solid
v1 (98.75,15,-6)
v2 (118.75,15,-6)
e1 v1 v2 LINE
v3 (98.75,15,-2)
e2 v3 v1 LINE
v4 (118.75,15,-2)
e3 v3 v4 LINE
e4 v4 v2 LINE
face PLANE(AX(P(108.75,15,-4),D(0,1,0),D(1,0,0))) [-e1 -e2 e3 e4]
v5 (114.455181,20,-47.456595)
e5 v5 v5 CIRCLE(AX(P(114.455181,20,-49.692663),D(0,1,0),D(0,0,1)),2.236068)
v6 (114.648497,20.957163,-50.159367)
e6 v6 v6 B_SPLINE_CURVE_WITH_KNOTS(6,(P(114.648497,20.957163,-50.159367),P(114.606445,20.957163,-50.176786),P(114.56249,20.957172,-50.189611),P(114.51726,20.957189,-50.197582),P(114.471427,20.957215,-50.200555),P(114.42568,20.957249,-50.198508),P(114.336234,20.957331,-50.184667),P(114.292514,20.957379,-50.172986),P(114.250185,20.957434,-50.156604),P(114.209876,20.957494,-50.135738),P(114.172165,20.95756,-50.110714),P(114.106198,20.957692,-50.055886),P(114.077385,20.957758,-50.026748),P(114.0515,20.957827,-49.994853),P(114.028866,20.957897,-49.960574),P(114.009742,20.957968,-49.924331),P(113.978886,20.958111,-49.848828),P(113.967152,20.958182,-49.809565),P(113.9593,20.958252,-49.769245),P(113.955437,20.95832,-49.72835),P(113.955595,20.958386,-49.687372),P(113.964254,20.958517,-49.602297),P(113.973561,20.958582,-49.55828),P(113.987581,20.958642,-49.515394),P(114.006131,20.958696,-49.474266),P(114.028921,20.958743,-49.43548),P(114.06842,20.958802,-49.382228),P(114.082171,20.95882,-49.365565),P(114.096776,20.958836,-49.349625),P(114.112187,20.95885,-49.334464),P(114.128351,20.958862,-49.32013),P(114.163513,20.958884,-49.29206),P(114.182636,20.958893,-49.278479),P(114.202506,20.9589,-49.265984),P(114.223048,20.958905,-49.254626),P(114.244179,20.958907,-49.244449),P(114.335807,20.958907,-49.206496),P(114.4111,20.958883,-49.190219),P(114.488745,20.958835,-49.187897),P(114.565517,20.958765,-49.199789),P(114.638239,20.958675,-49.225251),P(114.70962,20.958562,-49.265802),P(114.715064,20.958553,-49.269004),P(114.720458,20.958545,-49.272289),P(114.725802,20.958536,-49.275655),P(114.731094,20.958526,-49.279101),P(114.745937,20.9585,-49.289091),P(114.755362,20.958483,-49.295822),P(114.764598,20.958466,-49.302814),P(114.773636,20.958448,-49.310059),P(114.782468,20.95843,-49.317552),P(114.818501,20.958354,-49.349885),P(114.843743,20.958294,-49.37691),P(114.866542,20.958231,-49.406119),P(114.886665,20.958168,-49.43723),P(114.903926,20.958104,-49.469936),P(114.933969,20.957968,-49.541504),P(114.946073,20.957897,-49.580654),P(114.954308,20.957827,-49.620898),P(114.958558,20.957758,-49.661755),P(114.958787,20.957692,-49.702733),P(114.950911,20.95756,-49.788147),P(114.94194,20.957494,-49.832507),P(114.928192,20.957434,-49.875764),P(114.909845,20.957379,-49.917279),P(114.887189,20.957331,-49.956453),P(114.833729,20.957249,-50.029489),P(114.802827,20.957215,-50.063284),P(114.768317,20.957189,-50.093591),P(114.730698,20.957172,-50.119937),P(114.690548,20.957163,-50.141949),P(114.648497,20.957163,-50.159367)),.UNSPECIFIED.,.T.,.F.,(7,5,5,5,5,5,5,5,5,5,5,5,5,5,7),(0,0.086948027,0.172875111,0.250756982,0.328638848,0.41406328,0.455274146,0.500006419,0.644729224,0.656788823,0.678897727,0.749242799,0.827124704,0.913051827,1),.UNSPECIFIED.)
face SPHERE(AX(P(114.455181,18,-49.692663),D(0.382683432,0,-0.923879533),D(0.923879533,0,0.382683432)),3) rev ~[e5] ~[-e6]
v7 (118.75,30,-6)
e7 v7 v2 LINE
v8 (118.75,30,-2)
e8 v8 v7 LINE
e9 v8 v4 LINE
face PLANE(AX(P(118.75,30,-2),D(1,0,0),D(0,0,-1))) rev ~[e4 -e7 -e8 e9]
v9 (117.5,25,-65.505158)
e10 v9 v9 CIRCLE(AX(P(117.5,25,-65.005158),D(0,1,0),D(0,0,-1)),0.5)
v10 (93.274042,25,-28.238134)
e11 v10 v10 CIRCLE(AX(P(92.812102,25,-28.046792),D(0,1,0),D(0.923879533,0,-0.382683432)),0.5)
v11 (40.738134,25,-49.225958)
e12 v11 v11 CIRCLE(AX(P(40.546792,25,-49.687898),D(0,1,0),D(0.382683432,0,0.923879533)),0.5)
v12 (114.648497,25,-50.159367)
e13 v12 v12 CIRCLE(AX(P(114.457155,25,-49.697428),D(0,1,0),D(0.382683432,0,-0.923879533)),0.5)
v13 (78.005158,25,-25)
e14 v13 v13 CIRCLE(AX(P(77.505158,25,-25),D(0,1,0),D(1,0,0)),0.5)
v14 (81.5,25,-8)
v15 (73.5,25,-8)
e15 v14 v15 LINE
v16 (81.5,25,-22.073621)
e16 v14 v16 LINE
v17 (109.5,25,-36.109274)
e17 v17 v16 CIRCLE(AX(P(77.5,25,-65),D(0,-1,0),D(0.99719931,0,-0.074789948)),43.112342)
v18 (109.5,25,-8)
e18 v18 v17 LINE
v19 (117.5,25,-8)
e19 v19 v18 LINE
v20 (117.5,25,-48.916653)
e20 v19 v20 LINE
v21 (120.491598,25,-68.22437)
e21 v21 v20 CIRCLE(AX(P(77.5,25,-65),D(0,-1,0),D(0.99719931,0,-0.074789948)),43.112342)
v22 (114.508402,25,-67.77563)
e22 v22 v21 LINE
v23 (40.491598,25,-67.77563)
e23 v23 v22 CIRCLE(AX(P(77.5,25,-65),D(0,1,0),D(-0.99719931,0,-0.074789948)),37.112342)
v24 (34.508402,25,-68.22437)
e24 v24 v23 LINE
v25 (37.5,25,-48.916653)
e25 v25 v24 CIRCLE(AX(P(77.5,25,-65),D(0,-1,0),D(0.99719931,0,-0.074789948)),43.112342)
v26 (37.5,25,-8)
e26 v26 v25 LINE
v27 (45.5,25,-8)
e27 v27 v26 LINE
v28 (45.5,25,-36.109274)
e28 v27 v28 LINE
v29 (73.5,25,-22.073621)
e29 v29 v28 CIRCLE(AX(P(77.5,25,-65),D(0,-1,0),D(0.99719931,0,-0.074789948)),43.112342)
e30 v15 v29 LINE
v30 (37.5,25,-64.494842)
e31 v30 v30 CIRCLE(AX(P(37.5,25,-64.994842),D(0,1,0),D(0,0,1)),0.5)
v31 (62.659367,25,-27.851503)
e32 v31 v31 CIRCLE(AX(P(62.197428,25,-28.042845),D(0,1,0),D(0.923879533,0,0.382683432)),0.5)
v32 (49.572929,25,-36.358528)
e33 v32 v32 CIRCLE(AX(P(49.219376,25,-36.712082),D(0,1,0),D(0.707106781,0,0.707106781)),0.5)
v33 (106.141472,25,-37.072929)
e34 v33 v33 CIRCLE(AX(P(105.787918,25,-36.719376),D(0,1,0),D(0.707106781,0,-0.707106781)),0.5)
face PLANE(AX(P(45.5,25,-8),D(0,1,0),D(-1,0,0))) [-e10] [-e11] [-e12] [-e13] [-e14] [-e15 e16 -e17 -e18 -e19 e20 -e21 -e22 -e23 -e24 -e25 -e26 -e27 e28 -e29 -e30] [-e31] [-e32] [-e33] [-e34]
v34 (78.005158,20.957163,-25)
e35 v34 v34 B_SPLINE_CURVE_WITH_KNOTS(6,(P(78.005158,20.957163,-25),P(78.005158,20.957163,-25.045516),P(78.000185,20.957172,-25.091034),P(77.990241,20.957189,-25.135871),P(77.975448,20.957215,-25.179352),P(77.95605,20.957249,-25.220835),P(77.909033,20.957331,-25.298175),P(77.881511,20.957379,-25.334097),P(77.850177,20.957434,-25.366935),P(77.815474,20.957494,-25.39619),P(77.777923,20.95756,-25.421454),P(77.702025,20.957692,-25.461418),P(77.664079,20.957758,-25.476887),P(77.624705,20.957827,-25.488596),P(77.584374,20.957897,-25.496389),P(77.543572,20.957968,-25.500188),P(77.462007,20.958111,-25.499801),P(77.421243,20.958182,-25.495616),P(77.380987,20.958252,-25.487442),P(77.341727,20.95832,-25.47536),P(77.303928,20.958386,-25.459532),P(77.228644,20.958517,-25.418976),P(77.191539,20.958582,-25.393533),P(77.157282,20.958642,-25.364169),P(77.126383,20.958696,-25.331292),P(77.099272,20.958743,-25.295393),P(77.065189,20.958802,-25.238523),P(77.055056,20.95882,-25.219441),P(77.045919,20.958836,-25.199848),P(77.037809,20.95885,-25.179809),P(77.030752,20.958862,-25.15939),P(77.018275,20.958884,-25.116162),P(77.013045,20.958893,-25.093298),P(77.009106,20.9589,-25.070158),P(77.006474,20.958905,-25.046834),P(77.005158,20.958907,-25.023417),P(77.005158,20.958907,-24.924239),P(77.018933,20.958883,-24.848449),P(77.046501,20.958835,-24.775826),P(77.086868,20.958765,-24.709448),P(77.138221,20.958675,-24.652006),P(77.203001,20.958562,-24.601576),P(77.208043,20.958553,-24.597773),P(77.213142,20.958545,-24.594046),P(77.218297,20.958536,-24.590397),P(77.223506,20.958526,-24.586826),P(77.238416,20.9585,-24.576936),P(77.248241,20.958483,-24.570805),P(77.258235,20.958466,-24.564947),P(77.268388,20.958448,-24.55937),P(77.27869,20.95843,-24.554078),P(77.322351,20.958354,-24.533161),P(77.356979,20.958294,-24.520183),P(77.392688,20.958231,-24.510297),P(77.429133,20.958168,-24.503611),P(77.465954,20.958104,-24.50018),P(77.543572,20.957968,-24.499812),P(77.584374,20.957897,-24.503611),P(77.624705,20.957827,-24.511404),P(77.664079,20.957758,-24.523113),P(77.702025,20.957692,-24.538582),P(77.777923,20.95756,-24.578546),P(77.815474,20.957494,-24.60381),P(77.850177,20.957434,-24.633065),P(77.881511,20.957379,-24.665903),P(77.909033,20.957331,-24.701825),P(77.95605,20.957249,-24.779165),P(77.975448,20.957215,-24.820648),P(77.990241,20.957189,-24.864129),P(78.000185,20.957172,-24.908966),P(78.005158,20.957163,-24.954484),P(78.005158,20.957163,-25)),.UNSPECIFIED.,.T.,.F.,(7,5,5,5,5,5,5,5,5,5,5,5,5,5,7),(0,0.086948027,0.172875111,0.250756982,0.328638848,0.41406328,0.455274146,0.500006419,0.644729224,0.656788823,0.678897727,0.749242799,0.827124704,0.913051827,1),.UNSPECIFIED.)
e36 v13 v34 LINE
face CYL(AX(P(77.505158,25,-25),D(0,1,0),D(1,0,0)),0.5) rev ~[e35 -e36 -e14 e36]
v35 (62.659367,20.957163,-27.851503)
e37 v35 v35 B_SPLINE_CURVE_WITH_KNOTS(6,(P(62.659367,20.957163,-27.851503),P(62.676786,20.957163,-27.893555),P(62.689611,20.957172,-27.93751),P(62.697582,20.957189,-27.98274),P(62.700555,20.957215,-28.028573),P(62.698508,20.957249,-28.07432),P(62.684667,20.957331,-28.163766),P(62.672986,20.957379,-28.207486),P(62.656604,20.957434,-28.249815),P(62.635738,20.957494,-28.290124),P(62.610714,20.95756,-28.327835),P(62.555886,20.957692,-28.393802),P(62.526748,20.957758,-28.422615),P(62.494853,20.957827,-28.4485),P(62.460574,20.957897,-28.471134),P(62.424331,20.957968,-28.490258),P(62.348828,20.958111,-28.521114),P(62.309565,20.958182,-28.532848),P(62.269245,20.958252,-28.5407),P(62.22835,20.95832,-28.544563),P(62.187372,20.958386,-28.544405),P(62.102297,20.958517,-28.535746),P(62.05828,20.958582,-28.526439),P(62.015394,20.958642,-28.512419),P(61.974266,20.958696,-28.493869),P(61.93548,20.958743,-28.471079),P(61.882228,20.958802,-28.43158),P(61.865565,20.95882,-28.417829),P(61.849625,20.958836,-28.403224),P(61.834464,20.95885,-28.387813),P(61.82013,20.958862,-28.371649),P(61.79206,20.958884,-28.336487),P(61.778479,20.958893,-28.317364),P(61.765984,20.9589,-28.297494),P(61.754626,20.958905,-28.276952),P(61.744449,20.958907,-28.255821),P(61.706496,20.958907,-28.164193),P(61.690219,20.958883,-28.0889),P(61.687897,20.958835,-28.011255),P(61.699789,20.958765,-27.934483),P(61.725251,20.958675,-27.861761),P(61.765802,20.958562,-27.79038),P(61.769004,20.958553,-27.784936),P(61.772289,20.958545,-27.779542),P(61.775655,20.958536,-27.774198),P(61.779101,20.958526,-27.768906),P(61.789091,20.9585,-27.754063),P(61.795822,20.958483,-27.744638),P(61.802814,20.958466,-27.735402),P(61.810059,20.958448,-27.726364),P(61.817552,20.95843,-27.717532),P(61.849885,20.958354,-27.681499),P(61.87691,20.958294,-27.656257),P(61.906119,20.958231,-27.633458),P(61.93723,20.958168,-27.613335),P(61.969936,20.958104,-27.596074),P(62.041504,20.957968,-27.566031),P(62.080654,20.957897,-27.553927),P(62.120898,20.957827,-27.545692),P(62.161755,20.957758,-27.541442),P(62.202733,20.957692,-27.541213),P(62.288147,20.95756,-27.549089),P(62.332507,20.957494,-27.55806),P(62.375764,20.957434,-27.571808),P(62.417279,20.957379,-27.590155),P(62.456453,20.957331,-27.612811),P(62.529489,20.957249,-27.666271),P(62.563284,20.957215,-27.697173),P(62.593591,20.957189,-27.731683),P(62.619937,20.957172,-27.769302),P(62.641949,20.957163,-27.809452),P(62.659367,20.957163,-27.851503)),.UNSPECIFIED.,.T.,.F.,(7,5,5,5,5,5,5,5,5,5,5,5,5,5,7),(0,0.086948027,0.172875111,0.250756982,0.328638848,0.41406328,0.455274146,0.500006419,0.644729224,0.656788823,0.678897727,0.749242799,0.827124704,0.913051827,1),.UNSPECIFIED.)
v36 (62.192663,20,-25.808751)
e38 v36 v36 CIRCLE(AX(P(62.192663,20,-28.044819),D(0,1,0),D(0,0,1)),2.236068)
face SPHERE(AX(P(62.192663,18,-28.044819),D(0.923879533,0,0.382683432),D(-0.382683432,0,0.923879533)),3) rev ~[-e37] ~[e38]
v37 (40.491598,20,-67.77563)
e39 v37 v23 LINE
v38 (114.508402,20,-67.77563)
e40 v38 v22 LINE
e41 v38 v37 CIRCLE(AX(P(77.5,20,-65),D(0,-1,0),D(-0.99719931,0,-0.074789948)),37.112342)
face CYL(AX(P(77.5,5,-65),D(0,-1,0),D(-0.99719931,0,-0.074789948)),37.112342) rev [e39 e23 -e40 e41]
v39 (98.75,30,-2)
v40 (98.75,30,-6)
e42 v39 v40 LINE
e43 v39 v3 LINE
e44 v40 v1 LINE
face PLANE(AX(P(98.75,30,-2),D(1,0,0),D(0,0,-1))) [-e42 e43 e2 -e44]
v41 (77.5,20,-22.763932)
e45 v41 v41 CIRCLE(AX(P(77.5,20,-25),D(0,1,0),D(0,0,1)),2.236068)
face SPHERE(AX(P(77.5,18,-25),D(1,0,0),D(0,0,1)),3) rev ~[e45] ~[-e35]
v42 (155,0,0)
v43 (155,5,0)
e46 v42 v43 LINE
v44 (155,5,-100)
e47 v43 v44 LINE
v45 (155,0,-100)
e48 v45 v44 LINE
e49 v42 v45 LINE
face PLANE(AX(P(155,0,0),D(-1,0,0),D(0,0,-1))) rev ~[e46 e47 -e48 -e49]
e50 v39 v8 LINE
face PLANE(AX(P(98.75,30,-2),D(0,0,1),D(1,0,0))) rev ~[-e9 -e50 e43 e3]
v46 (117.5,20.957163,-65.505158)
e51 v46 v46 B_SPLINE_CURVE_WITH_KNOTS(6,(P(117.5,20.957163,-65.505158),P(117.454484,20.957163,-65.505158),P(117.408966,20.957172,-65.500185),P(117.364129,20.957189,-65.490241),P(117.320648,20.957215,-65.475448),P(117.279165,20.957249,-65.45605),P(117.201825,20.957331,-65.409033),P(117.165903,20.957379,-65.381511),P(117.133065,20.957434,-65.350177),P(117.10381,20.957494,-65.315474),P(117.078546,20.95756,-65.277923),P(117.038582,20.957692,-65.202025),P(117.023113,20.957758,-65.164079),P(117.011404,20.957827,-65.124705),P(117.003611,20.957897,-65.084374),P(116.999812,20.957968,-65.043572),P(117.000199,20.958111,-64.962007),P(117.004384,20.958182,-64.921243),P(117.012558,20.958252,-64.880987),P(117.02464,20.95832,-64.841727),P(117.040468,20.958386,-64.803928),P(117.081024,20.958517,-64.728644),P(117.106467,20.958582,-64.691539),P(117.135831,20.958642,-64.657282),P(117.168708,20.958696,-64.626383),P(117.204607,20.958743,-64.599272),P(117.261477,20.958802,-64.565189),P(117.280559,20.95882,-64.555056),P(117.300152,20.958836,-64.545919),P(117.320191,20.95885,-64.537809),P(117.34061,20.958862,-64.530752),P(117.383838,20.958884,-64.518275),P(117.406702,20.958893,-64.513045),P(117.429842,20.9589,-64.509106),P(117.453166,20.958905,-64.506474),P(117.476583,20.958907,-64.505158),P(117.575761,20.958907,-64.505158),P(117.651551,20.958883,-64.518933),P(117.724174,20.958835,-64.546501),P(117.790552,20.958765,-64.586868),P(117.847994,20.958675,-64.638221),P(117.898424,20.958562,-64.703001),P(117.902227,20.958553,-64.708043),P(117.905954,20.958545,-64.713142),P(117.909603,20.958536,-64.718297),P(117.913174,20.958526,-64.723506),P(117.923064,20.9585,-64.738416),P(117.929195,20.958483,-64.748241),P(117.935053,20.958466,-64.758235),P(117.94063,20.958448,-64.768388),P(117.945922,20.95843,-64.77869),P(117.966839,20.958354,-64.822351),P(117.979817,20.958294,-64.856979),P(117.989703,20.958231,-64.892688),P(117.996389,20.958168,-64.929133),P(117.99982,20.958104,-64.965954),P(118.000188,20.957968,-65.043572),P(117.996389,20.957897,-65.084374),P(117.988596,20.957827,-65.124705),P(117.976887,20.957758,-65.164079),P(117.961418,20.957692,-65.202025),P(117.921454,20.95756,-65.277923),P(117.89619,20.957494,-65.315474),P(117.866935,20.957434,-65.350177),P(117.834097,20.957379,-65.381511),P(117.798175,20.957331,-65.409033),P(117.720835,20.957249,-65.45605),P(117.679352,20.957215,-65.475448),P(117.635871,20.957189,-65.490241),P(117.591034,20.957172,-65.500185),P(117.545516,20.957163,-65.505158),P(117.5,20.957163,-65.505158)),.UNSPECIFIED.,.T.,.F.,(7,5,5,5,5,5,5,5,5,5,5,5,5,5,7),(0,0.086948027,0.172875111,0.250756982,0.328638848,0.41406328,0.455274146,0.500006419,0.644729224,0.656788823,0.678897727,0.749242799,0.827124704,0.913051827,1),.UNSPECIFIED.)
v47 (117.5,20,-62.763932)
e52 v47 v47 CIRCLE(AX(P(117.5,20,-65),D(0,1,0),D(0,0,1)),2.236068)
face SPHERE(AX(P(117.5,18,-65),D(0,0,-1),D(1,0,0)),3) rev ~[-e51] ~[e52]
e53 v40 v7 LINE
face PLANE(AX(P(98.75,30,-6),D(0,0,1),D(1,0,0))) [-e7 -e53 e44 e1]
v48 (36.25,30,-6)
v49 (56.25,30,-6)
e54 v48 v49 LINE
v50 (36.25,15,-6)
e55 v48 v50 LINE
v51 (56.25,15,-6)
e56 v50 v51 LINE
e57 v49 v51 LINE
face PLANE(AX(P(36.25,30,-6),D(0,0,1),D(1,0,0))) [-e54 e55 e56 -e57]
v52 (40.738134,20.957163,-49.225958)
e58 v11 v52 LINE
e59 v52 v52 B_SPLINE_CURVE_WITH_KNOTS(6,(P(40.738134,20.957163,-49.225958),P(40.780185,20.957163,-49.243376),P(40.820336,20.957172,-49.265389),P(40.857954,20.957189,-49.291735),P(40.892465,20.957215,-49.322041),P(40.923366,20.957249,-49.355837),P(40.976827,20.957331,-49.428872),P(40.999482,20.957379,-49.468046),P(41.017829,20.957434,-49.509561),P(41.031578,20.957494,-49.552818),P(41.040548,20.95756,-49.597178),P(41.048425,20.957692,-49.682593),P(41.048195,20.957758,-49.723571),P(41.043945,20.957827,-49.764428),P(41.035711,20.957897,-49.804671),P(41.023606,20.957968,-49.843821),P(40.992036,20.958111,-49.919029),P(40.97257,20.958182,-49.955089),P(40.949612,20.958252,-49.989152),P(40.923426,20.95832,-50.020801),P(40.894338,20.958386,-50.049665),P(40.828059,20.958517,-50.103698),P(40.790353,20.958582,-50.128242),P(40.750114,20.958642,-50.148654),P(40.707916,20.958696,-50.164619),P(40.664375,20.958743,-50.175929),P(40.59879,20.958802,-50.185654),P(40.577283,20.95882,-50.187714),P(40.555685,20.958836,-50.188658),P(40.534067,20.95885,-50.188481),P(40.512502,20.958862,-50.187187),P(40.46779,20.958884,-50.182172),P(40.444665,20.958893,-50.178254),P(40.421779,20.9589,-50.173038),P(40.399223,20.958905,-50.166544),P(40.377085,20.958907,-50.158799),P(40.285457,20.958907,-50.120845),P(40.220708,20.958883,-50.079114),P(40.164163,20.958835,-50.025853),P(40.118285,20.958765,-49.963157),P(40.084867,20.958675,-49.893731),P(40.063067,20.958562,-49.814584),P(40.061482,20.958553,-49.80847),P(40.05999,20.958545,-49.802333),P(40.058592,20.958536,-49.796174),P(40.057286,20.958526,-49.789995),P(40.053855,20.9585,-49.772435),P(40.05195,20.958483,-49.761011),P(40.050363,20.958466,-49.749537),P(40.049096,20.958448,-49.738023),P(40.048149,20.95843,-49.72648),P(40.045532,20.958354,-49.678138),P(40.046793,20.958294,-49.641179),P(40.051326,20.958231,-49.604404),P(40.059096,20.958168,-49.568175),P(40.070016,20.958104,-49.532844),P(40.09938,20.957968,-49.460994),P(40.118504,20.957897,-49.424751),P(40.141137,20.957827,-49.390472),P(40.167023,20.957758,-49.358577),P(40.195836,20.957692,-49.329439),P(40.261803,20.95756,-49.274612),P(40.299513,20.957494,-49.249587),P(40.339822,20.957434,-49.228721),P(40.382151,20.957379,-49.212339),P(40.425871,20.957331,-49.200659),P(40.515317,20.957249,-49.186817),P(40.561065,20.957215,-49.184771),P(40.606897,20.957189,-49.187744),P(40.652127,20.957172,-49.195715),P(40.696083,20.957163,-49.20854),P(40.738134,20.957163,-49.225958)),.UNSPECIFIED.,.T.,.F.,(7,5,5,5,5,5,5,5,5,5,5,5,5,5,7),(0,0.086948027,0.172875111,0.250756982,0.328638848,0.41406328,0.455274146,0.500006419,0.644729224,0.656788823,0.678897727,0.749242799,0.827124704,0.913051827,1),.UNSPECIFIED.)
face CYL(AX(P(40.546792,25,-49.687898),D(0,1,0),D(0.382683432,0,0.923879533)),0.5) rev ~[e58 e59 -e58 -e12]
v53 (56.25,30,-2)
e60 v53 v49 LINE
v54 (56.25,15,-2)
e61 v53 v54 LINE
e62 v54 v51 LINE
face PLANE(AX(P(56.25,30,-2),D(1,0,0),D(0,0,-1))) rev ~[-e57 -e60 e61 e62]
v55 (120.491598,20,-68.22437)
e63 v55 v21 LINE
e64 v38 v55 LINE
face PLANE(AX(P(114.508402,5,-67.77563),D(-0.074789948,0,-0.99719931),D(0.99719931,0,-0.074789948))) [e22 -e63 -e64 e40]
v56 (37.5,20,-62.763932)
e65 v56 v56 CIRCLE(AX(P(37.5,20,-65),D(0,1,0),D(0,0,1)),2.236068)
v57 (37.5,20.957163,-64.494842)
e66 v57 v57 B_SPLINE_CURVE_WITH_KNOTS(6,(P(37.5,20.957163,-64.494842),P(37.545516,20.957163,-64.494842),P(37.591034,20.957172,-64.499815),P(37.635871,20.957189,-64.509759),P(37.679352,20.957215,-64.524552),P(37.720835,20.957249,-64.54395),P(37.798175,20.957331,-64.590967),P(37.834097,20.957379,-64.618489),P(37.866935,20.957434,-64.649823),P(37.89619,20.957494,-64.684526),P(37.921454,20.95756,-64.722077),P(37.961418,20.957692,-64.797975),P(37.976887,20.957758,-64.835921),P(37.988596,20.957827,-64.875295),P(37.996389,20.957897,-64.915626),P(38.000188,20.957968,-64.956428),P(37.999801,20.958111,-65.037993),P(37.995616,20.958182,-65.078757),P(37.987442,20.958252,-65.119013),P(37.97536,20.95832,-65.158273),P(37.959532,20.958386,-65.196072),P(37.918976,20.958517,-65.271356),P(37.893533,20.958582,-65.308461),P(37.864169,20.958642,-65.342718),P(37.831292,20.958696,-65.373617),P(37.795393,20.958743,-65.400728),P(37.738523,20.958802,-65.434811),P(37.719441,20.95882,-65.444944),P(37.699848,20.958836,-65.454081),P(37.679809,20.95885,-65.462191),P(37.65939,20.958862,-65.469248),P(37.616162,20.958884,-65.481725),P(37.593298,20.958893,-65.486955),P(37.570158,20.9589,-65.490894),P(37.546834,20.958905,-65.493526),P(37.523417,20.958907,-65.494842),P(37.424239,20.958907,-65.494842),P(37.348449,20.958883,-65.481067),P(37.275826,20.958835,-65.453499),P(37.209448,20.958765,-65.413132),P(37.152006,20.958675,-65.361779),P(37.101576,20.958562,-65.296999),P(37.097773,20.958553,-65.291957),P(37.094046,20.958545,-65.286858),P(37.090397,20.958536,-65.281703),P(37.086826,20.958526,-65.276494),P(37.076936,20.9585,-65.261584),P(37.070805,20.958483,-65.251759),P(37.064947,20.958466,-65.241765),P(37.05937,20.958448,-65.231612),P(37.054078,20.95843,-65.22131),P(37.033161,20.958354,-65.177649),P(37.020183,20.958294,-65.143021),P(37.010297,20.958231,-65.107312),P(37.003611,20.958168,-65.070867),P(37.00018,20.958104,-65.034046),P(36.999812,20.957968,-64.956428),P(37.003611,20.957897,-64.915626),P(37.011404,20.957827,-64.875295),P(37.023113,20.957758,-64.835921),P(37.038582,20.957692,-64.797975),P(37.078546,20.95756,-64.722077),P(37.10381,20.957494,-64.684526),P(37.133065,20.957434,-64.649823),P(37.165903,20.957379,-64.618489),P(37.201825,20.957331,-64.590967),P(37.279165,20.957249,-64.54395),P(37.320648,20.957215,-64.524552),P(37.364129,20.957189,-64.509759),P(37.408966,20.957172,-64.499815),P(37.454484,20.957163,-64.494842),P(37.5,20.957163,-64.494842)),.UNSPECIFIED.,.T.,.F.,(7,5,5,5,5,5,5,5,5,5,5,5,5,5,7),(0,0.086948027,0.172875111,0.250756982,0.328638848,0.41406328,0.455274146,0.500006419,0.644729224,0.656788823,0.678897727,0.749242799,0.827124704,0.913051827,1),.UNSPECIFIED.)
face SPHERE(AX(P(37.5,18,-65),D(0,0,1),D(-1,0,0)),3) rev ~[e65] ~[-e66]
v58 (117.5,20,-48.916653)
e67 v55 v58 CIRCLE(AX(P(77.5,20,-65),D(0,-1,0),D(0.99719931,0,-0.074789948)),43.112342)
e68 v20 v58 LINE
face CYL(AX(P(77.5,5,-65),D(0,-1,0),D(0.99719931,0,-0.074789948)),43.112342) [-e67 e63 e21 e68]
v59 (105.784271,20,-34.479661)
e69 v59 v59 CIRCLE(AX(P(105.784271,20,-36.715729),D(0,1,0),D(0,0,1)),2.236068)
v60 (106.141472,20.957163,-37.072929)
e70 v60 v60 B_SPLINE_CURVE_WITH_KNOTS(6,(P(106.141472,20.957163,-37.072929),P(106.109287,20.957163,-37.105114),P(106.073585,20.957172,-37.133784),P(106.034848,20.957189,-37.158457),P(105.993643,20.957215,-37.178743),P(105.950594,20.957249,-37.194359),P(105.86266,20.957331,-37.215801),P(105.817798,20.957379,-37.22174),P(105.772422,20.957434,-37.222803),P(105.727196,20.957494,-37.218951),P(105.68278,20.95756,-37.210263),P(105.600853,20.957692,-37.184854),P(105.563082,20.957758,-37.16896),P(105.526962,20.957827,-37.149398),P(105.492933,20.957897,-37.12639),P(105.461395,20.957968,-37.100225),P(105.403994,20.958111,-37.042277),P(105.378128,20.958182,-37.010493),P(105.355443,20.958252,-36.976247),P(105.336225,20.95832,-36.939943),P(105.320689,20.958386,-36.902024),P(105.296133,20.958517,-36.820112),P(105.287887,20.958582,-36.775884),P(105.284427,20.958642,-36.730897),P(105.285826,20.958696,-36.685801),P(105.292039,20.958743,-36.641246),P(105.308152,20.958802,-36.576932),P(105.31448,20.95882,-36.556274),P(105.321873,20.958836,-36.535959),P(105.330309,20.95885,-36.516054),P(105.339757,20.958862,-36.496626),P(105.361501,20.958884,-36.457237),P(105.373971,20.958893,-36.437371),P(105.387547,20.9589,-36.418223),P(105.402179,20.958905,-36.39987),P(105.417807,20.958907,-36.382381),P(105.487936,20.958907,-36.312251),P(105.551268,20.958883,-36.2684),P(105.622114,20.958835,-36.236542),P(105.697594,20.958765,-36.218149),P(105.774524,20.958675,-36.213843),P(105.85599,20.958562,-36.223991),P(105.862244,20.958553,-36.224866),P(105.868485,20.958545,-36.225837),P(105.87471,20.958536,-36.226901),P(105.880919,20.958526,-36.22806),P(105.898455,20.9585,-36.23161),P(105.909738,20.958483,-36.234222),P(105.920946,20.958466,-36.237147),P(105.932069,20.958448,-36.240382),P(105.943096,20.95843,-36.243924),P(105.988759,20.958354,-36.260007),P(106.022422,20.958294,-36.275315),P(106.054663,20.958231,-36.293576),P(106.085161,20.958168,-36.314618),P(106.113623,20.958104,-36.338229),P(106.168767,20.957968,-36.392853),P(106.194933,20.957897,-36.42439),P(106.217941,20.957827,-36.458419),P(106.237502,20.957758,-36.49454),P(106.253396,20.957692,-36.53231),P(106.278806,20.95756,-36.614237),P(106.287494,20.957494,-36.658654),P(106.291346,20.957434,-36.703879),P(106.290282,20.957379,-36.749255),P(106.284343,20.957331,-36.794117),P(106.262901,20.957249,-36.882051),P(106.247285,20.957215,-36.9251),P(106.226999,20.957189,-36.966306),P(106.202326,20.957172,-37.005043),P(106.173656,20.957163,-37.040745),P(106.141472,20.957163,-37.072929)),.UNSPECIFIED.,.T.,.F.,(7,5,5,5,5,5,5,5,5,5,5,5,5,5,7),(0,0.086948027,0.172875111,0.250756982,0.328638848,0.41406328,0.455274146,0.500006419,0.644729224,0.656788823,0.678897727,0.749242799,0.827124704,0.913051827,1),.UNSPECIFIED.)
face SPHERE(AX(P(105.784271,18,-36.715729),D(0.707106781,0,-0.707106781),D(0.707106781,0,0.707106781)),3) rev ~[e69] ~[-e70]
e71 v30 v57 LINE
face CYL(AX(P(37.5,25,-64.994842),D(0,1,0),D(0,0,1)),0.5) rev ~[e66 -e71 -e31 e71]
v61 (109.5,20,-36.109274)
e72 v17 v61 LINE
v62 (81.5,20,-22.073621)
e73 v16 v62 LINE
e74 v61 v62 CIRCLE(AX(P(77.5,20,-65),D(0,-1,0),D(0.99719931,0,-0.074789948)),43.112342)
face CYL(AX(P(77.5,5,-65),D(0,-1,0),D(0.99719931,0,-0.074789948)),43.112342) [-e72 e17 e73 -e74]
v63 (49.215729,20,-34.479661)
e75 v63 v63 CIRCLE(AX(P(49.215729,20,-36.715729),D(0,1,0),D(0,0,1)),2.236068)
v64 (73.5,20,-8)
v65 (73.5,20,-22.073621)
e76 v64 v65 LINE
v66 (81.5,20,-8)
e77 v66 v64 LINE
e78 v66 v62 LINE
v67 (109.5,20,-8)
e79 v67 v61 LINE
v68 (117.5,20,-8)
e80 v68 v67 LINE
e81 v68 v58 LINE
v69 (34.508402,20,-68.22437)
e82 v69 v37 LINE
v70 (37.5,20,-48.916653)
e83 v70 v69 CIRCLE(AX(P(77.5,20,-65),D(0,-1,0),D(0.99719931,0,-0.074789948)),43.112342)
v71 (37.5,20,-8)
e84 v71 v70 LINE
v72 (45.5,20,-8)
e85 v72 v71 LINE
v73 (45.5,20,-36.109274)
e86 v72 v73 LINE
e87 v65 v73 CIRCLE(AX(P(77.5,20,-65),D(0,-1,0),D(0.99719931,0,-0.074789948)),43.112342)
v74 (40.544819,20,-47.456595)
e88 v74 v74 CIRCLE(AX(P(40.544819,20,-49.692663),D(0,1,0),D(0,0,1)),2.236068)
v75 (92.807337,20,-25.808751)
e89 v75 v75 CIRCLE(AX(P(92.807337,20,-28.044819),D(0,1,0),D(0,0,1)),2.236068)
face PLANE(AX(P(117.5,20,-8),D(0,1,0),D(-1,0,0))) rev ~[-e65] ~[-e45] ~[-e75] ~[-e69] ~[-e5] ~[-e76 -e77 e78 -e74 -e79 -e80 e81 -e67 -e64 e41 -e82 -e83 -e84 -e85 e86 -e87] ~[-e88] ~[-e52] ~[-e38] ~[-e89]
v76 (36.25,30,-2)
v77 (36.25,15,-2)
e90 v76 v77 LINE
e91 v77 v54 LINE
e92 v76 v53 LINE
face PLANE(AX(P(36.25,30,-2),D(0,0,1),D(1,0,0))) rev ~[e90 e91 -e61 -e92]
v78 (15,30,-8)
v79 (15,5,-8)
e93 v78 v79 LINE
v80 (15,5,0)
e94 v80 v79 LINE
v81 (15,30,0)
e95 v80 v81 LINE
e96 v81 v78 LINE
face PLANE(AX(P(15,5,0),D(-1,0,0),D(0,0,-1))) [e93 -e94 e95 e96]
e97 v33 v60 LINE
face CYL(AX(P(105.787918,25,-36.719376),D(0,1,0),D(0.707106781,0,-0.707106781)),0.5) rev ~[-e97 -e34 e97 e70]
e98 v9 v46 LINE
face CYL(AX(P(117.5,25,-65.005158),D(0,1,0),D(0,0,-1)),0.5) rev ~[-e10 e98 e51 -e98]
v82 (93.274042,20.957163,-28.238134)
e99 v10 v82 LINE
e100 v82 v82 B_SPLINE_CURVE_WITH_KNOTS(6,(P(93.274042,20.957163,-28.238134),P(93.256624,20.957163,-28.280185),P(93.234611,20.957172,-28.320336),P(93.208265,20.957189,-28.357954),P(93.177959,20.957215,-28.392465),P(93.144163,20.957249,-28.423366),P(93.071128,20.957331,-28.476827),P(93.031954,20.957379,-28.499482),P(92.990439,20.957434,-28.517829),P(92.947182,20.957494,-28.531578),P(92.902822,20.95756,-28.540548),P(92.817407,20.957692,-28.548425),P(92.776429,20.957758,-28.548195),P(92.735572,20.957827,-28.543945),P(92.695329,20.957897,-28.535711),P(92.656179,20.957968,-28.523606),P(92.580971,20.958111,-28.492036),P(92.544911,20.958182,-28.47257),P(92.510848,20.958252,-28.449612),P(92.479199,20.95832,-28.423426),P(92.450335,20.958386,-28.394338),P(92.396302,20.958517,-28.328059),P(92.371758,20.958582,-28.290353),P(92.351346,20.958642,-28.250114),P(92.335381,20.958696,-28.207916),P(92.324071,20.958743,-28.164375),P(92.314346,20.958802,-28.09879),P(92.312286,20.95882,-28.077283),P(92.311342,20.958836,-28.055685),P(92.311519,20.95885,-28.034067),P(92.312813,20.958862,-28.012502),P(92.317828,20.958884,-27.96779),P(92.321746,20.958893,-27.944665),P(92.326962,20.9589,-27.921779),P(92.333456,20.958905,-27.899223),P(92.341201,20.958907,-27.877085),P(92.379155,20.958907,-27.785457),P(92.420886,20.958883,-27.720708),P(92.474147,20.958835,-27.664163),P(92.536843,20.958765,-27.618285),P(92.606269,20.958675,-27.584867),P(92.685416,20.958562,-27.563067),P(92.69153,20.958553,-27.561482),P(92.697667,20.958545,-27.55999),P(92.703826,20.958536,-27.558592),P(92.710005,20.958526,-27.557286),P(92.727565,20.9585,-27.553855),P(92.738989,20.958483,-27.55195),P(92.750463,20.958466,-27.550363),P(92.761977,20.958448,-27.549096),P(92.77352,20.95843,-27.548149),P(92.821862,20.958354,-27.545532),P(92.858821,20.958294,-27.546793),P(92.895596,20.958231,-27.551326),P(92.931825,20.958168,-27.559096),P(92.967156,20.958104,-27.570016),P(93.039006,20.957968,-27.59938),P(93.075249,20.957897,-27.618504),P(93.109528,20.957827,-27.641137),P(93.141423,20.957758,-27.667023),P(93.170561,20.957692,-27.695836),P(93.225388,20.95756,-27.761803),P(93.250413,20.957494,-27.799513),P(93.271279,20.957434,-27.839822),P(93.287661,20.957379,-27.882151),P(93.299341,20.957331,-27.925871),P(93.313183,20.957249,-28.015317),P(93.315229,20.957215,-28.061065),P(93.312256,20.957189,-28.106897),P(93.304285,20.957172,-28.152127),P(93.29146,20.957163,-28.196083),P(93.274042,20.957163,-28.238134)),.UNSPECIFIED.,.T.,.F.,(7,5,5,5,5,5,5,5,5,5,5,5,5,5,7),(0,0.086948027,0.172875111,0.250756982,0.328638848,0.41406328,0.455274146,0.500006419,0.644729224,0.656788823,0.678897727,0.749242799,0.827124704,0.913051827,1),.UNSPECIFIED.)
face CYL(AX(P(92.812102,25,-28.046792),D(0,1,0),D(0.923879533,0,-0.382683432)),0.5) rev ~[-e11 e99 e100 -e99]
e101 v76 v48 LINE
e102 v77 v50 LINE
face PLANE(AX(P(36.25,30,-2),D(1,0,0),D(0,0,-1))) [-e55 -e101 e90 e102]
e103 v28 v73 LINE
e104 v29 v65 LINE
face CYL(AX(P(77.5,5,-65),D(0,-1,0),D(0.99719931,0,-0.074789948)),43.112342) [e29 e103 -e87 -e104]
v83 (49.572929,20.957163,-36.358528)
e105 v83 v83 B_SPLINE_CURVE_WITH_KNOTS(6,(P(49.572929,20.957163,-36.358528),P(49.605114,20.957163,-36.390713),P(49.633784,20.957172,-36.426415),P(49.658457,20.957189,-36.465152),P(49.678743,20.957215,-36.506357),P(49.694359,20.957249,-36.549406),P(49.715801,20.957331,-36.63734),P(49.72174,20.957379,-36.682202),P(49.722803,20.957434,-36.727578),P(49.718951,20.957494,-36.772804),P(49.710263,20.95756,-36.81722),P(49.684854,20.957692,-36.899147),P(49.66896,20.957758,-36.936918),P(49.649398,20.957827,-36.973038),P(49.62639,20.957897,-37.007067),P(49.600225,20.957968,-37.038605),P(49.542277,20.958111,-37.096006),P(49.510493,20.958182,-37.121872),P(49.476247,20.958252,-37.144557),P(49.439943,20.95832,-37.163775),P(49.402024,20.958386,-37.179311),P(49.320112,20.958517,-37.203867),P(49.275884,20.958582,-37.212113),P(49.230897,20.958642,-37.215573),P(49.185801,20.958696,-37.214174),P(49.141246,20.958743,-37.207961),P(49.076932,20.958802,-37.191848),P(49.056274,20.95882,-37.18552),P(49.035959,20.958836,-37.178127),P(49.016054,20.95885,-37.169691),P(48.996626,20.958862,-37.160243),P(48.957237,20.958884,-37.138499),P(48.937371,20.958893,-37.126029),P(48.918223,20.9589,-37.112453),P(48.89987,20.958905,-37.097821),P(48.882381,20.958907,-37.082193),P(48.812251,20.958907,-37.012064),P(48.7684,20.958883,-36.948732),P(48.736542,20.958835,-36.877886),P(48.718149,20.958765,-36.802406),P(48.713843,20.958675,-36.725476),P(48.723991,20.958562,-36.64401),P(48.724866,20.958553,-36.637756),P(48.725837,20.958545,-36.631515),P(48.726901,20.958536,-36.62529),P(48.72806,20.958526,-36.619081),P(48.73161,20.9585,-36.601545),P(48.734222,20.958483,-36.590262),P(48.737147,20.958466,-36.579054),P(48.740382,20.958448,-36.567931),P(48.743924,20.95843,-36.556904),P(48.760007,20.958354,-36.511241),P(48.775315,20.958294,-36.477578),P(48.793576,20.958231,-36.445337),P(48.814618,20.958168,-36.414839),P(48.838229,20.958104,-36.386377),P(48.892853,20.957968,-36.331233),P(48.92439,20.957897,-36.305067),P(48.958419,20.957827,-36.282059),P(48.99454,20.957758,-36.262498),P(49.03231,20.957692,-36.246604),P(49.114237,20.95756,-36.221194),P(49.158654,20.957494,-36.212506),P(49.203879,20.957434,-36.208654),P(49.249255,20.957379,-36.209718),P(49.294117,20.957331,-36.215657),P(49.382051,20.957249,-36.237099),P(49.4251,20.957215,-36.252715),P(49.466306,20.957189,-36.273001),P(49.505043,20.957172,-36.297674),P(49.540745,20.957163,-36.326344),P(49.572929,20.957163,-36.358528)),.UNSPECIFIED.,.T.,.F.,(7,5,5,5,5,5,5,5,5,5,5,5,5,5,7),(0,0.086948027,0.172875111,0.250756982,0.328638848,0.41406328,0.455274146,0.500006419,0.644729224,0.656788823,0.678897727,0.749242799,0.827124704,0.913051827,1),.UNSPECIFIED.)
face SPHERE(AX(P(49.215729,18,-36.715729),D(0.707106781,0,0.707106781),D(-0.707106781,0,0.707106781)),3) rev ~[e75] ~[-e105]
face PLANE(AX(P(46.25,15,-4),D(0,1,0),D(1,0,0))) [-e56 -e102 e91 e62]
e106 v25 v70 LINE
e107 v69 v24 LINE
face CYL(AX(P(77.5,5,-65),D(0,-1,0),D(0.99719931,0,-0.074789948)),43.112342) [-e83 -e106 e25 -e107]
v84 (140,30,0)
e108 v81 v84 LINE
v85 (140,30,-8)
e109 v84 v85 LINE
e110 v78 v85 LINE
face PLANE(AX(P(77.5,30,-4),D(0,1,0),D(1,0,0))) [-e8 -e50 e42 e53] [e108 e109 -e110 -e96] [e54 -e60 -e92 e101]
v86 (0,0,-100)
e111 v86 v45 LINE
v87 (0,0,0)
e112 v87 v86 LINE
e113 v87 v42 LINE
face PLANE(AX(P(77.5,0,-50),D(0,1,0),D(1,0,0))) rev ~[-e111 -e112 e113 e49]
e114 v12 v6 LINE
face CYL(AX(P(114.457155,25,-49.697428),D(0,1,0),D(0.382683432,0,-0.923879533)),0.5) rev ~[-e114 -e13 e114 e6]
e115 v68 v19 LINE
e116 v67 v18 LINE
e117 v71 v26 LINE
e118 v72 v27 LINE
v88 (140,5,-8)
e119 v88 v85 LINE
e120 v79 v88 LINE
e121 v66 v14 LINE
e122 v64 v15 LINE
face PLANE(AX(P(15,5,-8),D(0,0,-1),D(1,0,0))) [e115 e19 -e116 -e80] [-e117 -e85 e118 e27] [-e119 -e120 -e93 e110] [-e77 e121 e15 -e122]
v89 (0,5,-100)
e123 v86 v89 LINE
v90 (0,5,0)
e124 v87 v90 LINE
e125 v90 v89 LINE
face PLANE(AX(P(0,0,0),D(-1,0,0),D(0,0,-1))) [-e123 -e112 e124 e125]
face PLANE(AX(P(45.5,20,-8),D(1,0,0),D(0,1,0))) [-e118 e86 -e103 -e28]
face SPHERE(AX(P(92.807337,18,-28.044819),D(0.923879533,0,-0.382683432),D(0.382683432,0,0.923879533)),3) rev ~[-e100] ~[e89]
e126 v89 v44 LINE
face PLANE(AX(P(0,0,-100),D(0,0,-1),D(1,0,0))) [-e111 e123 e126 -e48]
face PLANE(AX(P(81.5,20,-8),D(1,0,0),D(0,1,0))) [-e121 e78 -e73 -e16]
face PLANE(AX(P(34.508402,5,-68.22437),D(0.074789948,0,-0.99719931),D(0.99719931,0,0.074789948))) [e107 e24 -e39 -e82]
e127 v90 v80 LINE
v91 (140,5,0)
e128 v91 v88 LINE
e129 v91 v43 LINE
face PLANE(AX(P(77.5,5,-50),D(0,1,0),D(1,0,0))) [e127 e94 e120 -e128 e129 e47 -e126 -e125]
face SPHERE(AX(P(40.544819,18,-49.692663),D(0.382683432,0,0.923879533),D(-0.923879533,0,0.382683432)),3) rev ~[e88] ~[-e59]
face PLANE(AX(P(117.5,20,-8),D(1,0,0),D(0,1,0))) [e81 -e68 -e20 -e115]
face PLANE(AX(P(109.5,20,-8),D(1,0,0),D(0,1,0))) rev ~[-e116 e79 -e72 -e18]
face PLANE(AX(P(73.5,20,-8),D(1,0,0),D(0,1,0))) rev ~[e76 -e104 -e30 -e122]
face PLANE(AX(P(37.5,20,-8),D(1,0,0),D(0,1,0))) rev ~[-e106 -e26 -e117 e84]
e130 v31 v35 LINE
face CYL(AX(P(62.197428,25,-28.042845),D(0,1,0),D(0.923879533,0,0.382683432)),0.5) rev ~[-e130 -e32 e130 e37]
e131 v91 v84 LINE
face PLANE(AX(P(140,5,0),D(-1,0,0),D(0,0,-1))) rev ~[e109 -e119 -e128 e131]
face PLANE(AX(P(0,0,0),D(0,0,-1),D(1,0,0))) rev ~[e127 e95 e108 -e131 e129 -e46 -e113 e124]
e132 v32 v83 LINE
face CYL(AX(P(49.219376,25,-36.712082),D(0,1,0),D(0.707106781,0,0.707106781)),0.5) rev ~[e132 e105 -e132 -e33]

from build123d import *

# Parameters (mm, degrees)
SKETCH_1_W               = 155
SKETCH_1_H               = 100
EXTRUDE_1_DEPTH          = 5
SKETCH_2_W               = 125
SKETCH_2_H               = 8
EXTRUDE_2_DEPTH          = 25
EXTRUDE_6_DEPTH          = 20
EXTRUDE_7_REACH          = 184.727
EXTRUDE_7_END_RADIUS     = 43.11234224
SKETCH_11_W              = 8
SKETCH_11_H              = 5
SKETCH_12_W              = 125
SKETCH_12_H              = 15
CUT_EXTRUDE_1_DEPTH      = 130
PATTERN_CIRCULAR_1_COUNT = 5
PATTERN_CIRCULAR_1_ANGLE = 90
F_1_THE_OTHER_WAY_COUNT  = 5
F_1_THE_OTHER_WAY_ANGLE  = 90
CUT_EXTRUDE_2_REACH      = 188.145
CUT_EXTRUDE_2_END_RADIUS = 3
SKETCH_17_R              = 0.5
PATTERN_CIRCULAR_2_COUNT = 9
PATTERN_CIRCULAR_2_ANGLE = 180
SKETCH_19_W              = 20
SKETCH_19_H              = 4
CUT_EXTRUDE_3_DEPTH      = 15


with BuildPart() as part:
    # 草图1 → 凸台-拉伸1 (new body)
    with BuildSketch(Plane(origin=(0, 0, 0), x_dir=(1, 0, 0), z_dir=(0, 1, 0))):
        with Locations((77.5, 50)):
            Rectangle(SKETCH_1_W, SKETCH_1_H)
    extrude(amount=EXTRUDE_1_DEPTH)

    # 草图2 → 凸台-拉伸2 (add)
    with BuildSketch(Plane(origin=(0, 5, 0), x_dir=(1, 0, 0), z_dir=(0, 1, 0))):
        with Locations((77.5, 4)):
            Rectangle(SKETCH_2_W, SKETCH_2_H)
    extrude(amount=EXTRUDE_2_DEPTH)

    # 草图7 → 凸台-拉伸6 (add)
    with BuildSketch(Plane(origin=(0, 5, 0), x_dir=(1, 0, 0), z_dir=(0, 1, 0))):
        with BuildLine():
            Line((34.50840207, 68.224369845), (40.49159793, 67.775630155))
            ThreePointArc((40.49159793, 67.775630155), (77.5, 27.88765776), (114.50840207, 67.775630155))
            Line((114.50840207, 67.775630155), (120.49159793, 68.224369845))
            ThreePointArc((120.49159793, 68.224369845), (77.5, 21.88765776), (34.50840207, 68.224369845))
        make_face()
    extrude(amount=EXTRUDE_6_DEPTH)

    # 凸台-拉伸7: up to this cylinder (the profile starts outside it)
    extrude_7_end = Plane(origin=(77.5, 22.5, -65), z_dir=(0, -1, 0)) * Cylinder(EXTRUDE_7_END_RADIUS, 456.67868448, mode=Mode.PRIVATE)
    # 草图11 → 凸台-拉伸7 (add, up to the surface)
    with BuildSketch(Plane(origin=(0, 0, -8), x_dir=(-1, 0, 0), z_dir=(0, 0, -1)), mode=Mode.PRIVATE) as extrude_7_sk1:
        with Locations((-77.5, 22.5)):
            Rectangle(SKETCH_11_W, SKETCH_11_H)
    extrude_7_tool1 = extrude(extrude_7_sk1.sketch, amount=EXTRUDE_7_REACH, mode=Mode.PRIVATE) - extrude_7_end
    add(extrude_7_tool1.solids().sort_by_distance((77.5, 22.5, -8))[0])
    # 草图11 → 凸台-拉伸7 (add, up to the surface)
    with BuildSketch(Plane(origin=(0, 0, -8), x_dir=(-1, 0, 0), z_dir=(0, 0, -1)), mode=Mode.PRIVATE) as extrude_7_sk2:
        with Locations((-41.5, 22.5)):
            Rectangle(SKETCH_11_W, SKETCH_11_H)
    extrude_7_tool2 = extrude(extrude_7_sk2.sketch, amount=EXTRUDE_7_REACH, mode=Mode.PRIVATE) - extrude_7_end
    add(extrude_7_tool2.solids().sort_by_distance((41.5, 22.5, -8))[0])
    # 草图11 → 凸台-拉伸7 (add, up to the surface)
    with BuildSketch(Plane(origin=(0, 0, -8), x_dir=(-1, 0, 0), z_dir=(0, 0, -1)), mode=Mode.PRIVATE) as extrude_7_sk3:
        with Locations((-113.5, 22.5)):
            Rectangle(SKETCH_11_W, SKETCH_11_H)
    extrude_7_tool3 = extrude(extrude_7_sk3.sketch, amount=EXTRUDE_7_REACH, mode=Mode.PRIVATE) - extrude_7_end
    add(extrude_7_tool3.solids().sort_by_distance((113.5, 22.5, -8))[0])

    # 草图12 → 切除-拉伸1 (cut)
    with BuildSketch(Plane(origin=(0, 0, -8), x_dir=(-1, 0, 0), z_dir=(0, 0, -1))):
        with Locations((-77.5, 12.5)):
            Rectangle(SKETCH_12_W, SKETCH_12_H)
    extrude(amount=CUT_EXTRUDE_1_DEPTH, mode=Mode.SUBTRACT)

    # 草图16 → 切除-旋转3 (revolve, cut)
    with BuildSketch(Plane(origin=(0, 18, 0), x_dir=(-1, 0, 0), z_dir=(0, -1, 0))):
        with BuildLine():
            Line((-80.5, 25), (-74.5, 25))
            ThreePointArc((-74.5, 25), (-77.5, 22), (-80.5, 25))
        make_face()
    cut_revolve_3 = revolve(axis=Axis((74.5, 18, -25), (1, 0, 0)), mode=Mode.SUBTRACT)

    # 阵列(圆周)1: 切除-旋转3 ×5 about axis
    pattern_circular_1_axis = Axis((77.5, 0, -65), (0, -1, 0))
    for i in range(1, PATTERN_CIRCULAR_1_COUNT):
        add(cut_revolve_3.rotate(pattern_circular_1_axis, i * PATTERN_CIRCULAR_1_ANGLE / (PATTERN_CIRCULAR_1_COUNT - 1)), mode=Mode.SUBTRACT)

    # 1 the other way: 切除-旋转3 ×5 about axis
    f_1_the_other_way_axis = Axis((77.5, 0, -65), (0, 1, 0))
    for i in range(1, F_1_THE_OTHER_WAY_COUNT):
        add(cut_revolve_3.rotate(f_1_the_other_way_axis, i * F_1_THE_OTHER_WAY_ANGLE / (F_1_THE_OTHER_WAY_COUNT - 1)), mode=Mode.SUBTRACT)

    # 切除-拉伸2: up to this sphere (the profile starts outside it)
    cut_extrude_2_end = Location((37.5, 18, -65)) * Sphere(CUT_EXTRUDE_2_END_RADIUS, mode=Mode.PRIVATE)
    # 草图17 → 切除-拉伸2 (cut, up to the surface)
    with BuildSketch(Plane(origin=(0, 25, 0), x_dir=(1, 0, 0), z_dir=(0, 1, 0)), mode=Mode.PRIVATE) as cut_extrude_2_sk1:
        with Locations(Location((37.5, 64.994842405, 0), (0, 0, 270))):
            Circle(SKETCH_17_R)
    cut_extrude_2_tool1 = extrude(cut_extrude_2_sk1.sketch, amount=-CUT_EXTRUDE_2_REACH, mode=Mode.PRIVATE) - cut_extrude_2_end
    cut_extrude_2 = cut_extrude_2_tool1.solids().sort_by_distance((37.5, 25, -64.994842))[0]
    add(cut_extrude_2, mode=Mode.SUBTRACT)

    # 阵列(圆周)2: 切除-拉伸2 ×9 about axis
    pattern_circular_2_axis = Axis((77.5, 0, -65), (0, 1, 0))
    for i in range(1, PATTERN_CIRCULAR_2_COUNT):
        add(cut_extrude_2.rotate(pattern_circular_2_axis, i * PATTERN_CIRCULAR_2_ANGLE / (PATTERN_CIRCULAR_2_COUNT - 1)), mode=Mode.SUBTRACT)

    # 草图19 → 切除-拉伸3 (cut)
    with BuildSketch(Plane(origin=(0, 30, 0), x_dir=(1, 0, 0), z_dir=(0, 1, 0))):
        with Locations((46.25, 4)):
            Rectangle(SKETCH_19_W, SKETCH_19_H)
        with Locations((108.75, 4)):
            Rectangle(SKETCH_19_W, SKETCH_19_H)
    extrude(amount=-CUT_EXTRUDE_3_DEPTH, mode=Mode.SUBTRACT)


solid = part.part
